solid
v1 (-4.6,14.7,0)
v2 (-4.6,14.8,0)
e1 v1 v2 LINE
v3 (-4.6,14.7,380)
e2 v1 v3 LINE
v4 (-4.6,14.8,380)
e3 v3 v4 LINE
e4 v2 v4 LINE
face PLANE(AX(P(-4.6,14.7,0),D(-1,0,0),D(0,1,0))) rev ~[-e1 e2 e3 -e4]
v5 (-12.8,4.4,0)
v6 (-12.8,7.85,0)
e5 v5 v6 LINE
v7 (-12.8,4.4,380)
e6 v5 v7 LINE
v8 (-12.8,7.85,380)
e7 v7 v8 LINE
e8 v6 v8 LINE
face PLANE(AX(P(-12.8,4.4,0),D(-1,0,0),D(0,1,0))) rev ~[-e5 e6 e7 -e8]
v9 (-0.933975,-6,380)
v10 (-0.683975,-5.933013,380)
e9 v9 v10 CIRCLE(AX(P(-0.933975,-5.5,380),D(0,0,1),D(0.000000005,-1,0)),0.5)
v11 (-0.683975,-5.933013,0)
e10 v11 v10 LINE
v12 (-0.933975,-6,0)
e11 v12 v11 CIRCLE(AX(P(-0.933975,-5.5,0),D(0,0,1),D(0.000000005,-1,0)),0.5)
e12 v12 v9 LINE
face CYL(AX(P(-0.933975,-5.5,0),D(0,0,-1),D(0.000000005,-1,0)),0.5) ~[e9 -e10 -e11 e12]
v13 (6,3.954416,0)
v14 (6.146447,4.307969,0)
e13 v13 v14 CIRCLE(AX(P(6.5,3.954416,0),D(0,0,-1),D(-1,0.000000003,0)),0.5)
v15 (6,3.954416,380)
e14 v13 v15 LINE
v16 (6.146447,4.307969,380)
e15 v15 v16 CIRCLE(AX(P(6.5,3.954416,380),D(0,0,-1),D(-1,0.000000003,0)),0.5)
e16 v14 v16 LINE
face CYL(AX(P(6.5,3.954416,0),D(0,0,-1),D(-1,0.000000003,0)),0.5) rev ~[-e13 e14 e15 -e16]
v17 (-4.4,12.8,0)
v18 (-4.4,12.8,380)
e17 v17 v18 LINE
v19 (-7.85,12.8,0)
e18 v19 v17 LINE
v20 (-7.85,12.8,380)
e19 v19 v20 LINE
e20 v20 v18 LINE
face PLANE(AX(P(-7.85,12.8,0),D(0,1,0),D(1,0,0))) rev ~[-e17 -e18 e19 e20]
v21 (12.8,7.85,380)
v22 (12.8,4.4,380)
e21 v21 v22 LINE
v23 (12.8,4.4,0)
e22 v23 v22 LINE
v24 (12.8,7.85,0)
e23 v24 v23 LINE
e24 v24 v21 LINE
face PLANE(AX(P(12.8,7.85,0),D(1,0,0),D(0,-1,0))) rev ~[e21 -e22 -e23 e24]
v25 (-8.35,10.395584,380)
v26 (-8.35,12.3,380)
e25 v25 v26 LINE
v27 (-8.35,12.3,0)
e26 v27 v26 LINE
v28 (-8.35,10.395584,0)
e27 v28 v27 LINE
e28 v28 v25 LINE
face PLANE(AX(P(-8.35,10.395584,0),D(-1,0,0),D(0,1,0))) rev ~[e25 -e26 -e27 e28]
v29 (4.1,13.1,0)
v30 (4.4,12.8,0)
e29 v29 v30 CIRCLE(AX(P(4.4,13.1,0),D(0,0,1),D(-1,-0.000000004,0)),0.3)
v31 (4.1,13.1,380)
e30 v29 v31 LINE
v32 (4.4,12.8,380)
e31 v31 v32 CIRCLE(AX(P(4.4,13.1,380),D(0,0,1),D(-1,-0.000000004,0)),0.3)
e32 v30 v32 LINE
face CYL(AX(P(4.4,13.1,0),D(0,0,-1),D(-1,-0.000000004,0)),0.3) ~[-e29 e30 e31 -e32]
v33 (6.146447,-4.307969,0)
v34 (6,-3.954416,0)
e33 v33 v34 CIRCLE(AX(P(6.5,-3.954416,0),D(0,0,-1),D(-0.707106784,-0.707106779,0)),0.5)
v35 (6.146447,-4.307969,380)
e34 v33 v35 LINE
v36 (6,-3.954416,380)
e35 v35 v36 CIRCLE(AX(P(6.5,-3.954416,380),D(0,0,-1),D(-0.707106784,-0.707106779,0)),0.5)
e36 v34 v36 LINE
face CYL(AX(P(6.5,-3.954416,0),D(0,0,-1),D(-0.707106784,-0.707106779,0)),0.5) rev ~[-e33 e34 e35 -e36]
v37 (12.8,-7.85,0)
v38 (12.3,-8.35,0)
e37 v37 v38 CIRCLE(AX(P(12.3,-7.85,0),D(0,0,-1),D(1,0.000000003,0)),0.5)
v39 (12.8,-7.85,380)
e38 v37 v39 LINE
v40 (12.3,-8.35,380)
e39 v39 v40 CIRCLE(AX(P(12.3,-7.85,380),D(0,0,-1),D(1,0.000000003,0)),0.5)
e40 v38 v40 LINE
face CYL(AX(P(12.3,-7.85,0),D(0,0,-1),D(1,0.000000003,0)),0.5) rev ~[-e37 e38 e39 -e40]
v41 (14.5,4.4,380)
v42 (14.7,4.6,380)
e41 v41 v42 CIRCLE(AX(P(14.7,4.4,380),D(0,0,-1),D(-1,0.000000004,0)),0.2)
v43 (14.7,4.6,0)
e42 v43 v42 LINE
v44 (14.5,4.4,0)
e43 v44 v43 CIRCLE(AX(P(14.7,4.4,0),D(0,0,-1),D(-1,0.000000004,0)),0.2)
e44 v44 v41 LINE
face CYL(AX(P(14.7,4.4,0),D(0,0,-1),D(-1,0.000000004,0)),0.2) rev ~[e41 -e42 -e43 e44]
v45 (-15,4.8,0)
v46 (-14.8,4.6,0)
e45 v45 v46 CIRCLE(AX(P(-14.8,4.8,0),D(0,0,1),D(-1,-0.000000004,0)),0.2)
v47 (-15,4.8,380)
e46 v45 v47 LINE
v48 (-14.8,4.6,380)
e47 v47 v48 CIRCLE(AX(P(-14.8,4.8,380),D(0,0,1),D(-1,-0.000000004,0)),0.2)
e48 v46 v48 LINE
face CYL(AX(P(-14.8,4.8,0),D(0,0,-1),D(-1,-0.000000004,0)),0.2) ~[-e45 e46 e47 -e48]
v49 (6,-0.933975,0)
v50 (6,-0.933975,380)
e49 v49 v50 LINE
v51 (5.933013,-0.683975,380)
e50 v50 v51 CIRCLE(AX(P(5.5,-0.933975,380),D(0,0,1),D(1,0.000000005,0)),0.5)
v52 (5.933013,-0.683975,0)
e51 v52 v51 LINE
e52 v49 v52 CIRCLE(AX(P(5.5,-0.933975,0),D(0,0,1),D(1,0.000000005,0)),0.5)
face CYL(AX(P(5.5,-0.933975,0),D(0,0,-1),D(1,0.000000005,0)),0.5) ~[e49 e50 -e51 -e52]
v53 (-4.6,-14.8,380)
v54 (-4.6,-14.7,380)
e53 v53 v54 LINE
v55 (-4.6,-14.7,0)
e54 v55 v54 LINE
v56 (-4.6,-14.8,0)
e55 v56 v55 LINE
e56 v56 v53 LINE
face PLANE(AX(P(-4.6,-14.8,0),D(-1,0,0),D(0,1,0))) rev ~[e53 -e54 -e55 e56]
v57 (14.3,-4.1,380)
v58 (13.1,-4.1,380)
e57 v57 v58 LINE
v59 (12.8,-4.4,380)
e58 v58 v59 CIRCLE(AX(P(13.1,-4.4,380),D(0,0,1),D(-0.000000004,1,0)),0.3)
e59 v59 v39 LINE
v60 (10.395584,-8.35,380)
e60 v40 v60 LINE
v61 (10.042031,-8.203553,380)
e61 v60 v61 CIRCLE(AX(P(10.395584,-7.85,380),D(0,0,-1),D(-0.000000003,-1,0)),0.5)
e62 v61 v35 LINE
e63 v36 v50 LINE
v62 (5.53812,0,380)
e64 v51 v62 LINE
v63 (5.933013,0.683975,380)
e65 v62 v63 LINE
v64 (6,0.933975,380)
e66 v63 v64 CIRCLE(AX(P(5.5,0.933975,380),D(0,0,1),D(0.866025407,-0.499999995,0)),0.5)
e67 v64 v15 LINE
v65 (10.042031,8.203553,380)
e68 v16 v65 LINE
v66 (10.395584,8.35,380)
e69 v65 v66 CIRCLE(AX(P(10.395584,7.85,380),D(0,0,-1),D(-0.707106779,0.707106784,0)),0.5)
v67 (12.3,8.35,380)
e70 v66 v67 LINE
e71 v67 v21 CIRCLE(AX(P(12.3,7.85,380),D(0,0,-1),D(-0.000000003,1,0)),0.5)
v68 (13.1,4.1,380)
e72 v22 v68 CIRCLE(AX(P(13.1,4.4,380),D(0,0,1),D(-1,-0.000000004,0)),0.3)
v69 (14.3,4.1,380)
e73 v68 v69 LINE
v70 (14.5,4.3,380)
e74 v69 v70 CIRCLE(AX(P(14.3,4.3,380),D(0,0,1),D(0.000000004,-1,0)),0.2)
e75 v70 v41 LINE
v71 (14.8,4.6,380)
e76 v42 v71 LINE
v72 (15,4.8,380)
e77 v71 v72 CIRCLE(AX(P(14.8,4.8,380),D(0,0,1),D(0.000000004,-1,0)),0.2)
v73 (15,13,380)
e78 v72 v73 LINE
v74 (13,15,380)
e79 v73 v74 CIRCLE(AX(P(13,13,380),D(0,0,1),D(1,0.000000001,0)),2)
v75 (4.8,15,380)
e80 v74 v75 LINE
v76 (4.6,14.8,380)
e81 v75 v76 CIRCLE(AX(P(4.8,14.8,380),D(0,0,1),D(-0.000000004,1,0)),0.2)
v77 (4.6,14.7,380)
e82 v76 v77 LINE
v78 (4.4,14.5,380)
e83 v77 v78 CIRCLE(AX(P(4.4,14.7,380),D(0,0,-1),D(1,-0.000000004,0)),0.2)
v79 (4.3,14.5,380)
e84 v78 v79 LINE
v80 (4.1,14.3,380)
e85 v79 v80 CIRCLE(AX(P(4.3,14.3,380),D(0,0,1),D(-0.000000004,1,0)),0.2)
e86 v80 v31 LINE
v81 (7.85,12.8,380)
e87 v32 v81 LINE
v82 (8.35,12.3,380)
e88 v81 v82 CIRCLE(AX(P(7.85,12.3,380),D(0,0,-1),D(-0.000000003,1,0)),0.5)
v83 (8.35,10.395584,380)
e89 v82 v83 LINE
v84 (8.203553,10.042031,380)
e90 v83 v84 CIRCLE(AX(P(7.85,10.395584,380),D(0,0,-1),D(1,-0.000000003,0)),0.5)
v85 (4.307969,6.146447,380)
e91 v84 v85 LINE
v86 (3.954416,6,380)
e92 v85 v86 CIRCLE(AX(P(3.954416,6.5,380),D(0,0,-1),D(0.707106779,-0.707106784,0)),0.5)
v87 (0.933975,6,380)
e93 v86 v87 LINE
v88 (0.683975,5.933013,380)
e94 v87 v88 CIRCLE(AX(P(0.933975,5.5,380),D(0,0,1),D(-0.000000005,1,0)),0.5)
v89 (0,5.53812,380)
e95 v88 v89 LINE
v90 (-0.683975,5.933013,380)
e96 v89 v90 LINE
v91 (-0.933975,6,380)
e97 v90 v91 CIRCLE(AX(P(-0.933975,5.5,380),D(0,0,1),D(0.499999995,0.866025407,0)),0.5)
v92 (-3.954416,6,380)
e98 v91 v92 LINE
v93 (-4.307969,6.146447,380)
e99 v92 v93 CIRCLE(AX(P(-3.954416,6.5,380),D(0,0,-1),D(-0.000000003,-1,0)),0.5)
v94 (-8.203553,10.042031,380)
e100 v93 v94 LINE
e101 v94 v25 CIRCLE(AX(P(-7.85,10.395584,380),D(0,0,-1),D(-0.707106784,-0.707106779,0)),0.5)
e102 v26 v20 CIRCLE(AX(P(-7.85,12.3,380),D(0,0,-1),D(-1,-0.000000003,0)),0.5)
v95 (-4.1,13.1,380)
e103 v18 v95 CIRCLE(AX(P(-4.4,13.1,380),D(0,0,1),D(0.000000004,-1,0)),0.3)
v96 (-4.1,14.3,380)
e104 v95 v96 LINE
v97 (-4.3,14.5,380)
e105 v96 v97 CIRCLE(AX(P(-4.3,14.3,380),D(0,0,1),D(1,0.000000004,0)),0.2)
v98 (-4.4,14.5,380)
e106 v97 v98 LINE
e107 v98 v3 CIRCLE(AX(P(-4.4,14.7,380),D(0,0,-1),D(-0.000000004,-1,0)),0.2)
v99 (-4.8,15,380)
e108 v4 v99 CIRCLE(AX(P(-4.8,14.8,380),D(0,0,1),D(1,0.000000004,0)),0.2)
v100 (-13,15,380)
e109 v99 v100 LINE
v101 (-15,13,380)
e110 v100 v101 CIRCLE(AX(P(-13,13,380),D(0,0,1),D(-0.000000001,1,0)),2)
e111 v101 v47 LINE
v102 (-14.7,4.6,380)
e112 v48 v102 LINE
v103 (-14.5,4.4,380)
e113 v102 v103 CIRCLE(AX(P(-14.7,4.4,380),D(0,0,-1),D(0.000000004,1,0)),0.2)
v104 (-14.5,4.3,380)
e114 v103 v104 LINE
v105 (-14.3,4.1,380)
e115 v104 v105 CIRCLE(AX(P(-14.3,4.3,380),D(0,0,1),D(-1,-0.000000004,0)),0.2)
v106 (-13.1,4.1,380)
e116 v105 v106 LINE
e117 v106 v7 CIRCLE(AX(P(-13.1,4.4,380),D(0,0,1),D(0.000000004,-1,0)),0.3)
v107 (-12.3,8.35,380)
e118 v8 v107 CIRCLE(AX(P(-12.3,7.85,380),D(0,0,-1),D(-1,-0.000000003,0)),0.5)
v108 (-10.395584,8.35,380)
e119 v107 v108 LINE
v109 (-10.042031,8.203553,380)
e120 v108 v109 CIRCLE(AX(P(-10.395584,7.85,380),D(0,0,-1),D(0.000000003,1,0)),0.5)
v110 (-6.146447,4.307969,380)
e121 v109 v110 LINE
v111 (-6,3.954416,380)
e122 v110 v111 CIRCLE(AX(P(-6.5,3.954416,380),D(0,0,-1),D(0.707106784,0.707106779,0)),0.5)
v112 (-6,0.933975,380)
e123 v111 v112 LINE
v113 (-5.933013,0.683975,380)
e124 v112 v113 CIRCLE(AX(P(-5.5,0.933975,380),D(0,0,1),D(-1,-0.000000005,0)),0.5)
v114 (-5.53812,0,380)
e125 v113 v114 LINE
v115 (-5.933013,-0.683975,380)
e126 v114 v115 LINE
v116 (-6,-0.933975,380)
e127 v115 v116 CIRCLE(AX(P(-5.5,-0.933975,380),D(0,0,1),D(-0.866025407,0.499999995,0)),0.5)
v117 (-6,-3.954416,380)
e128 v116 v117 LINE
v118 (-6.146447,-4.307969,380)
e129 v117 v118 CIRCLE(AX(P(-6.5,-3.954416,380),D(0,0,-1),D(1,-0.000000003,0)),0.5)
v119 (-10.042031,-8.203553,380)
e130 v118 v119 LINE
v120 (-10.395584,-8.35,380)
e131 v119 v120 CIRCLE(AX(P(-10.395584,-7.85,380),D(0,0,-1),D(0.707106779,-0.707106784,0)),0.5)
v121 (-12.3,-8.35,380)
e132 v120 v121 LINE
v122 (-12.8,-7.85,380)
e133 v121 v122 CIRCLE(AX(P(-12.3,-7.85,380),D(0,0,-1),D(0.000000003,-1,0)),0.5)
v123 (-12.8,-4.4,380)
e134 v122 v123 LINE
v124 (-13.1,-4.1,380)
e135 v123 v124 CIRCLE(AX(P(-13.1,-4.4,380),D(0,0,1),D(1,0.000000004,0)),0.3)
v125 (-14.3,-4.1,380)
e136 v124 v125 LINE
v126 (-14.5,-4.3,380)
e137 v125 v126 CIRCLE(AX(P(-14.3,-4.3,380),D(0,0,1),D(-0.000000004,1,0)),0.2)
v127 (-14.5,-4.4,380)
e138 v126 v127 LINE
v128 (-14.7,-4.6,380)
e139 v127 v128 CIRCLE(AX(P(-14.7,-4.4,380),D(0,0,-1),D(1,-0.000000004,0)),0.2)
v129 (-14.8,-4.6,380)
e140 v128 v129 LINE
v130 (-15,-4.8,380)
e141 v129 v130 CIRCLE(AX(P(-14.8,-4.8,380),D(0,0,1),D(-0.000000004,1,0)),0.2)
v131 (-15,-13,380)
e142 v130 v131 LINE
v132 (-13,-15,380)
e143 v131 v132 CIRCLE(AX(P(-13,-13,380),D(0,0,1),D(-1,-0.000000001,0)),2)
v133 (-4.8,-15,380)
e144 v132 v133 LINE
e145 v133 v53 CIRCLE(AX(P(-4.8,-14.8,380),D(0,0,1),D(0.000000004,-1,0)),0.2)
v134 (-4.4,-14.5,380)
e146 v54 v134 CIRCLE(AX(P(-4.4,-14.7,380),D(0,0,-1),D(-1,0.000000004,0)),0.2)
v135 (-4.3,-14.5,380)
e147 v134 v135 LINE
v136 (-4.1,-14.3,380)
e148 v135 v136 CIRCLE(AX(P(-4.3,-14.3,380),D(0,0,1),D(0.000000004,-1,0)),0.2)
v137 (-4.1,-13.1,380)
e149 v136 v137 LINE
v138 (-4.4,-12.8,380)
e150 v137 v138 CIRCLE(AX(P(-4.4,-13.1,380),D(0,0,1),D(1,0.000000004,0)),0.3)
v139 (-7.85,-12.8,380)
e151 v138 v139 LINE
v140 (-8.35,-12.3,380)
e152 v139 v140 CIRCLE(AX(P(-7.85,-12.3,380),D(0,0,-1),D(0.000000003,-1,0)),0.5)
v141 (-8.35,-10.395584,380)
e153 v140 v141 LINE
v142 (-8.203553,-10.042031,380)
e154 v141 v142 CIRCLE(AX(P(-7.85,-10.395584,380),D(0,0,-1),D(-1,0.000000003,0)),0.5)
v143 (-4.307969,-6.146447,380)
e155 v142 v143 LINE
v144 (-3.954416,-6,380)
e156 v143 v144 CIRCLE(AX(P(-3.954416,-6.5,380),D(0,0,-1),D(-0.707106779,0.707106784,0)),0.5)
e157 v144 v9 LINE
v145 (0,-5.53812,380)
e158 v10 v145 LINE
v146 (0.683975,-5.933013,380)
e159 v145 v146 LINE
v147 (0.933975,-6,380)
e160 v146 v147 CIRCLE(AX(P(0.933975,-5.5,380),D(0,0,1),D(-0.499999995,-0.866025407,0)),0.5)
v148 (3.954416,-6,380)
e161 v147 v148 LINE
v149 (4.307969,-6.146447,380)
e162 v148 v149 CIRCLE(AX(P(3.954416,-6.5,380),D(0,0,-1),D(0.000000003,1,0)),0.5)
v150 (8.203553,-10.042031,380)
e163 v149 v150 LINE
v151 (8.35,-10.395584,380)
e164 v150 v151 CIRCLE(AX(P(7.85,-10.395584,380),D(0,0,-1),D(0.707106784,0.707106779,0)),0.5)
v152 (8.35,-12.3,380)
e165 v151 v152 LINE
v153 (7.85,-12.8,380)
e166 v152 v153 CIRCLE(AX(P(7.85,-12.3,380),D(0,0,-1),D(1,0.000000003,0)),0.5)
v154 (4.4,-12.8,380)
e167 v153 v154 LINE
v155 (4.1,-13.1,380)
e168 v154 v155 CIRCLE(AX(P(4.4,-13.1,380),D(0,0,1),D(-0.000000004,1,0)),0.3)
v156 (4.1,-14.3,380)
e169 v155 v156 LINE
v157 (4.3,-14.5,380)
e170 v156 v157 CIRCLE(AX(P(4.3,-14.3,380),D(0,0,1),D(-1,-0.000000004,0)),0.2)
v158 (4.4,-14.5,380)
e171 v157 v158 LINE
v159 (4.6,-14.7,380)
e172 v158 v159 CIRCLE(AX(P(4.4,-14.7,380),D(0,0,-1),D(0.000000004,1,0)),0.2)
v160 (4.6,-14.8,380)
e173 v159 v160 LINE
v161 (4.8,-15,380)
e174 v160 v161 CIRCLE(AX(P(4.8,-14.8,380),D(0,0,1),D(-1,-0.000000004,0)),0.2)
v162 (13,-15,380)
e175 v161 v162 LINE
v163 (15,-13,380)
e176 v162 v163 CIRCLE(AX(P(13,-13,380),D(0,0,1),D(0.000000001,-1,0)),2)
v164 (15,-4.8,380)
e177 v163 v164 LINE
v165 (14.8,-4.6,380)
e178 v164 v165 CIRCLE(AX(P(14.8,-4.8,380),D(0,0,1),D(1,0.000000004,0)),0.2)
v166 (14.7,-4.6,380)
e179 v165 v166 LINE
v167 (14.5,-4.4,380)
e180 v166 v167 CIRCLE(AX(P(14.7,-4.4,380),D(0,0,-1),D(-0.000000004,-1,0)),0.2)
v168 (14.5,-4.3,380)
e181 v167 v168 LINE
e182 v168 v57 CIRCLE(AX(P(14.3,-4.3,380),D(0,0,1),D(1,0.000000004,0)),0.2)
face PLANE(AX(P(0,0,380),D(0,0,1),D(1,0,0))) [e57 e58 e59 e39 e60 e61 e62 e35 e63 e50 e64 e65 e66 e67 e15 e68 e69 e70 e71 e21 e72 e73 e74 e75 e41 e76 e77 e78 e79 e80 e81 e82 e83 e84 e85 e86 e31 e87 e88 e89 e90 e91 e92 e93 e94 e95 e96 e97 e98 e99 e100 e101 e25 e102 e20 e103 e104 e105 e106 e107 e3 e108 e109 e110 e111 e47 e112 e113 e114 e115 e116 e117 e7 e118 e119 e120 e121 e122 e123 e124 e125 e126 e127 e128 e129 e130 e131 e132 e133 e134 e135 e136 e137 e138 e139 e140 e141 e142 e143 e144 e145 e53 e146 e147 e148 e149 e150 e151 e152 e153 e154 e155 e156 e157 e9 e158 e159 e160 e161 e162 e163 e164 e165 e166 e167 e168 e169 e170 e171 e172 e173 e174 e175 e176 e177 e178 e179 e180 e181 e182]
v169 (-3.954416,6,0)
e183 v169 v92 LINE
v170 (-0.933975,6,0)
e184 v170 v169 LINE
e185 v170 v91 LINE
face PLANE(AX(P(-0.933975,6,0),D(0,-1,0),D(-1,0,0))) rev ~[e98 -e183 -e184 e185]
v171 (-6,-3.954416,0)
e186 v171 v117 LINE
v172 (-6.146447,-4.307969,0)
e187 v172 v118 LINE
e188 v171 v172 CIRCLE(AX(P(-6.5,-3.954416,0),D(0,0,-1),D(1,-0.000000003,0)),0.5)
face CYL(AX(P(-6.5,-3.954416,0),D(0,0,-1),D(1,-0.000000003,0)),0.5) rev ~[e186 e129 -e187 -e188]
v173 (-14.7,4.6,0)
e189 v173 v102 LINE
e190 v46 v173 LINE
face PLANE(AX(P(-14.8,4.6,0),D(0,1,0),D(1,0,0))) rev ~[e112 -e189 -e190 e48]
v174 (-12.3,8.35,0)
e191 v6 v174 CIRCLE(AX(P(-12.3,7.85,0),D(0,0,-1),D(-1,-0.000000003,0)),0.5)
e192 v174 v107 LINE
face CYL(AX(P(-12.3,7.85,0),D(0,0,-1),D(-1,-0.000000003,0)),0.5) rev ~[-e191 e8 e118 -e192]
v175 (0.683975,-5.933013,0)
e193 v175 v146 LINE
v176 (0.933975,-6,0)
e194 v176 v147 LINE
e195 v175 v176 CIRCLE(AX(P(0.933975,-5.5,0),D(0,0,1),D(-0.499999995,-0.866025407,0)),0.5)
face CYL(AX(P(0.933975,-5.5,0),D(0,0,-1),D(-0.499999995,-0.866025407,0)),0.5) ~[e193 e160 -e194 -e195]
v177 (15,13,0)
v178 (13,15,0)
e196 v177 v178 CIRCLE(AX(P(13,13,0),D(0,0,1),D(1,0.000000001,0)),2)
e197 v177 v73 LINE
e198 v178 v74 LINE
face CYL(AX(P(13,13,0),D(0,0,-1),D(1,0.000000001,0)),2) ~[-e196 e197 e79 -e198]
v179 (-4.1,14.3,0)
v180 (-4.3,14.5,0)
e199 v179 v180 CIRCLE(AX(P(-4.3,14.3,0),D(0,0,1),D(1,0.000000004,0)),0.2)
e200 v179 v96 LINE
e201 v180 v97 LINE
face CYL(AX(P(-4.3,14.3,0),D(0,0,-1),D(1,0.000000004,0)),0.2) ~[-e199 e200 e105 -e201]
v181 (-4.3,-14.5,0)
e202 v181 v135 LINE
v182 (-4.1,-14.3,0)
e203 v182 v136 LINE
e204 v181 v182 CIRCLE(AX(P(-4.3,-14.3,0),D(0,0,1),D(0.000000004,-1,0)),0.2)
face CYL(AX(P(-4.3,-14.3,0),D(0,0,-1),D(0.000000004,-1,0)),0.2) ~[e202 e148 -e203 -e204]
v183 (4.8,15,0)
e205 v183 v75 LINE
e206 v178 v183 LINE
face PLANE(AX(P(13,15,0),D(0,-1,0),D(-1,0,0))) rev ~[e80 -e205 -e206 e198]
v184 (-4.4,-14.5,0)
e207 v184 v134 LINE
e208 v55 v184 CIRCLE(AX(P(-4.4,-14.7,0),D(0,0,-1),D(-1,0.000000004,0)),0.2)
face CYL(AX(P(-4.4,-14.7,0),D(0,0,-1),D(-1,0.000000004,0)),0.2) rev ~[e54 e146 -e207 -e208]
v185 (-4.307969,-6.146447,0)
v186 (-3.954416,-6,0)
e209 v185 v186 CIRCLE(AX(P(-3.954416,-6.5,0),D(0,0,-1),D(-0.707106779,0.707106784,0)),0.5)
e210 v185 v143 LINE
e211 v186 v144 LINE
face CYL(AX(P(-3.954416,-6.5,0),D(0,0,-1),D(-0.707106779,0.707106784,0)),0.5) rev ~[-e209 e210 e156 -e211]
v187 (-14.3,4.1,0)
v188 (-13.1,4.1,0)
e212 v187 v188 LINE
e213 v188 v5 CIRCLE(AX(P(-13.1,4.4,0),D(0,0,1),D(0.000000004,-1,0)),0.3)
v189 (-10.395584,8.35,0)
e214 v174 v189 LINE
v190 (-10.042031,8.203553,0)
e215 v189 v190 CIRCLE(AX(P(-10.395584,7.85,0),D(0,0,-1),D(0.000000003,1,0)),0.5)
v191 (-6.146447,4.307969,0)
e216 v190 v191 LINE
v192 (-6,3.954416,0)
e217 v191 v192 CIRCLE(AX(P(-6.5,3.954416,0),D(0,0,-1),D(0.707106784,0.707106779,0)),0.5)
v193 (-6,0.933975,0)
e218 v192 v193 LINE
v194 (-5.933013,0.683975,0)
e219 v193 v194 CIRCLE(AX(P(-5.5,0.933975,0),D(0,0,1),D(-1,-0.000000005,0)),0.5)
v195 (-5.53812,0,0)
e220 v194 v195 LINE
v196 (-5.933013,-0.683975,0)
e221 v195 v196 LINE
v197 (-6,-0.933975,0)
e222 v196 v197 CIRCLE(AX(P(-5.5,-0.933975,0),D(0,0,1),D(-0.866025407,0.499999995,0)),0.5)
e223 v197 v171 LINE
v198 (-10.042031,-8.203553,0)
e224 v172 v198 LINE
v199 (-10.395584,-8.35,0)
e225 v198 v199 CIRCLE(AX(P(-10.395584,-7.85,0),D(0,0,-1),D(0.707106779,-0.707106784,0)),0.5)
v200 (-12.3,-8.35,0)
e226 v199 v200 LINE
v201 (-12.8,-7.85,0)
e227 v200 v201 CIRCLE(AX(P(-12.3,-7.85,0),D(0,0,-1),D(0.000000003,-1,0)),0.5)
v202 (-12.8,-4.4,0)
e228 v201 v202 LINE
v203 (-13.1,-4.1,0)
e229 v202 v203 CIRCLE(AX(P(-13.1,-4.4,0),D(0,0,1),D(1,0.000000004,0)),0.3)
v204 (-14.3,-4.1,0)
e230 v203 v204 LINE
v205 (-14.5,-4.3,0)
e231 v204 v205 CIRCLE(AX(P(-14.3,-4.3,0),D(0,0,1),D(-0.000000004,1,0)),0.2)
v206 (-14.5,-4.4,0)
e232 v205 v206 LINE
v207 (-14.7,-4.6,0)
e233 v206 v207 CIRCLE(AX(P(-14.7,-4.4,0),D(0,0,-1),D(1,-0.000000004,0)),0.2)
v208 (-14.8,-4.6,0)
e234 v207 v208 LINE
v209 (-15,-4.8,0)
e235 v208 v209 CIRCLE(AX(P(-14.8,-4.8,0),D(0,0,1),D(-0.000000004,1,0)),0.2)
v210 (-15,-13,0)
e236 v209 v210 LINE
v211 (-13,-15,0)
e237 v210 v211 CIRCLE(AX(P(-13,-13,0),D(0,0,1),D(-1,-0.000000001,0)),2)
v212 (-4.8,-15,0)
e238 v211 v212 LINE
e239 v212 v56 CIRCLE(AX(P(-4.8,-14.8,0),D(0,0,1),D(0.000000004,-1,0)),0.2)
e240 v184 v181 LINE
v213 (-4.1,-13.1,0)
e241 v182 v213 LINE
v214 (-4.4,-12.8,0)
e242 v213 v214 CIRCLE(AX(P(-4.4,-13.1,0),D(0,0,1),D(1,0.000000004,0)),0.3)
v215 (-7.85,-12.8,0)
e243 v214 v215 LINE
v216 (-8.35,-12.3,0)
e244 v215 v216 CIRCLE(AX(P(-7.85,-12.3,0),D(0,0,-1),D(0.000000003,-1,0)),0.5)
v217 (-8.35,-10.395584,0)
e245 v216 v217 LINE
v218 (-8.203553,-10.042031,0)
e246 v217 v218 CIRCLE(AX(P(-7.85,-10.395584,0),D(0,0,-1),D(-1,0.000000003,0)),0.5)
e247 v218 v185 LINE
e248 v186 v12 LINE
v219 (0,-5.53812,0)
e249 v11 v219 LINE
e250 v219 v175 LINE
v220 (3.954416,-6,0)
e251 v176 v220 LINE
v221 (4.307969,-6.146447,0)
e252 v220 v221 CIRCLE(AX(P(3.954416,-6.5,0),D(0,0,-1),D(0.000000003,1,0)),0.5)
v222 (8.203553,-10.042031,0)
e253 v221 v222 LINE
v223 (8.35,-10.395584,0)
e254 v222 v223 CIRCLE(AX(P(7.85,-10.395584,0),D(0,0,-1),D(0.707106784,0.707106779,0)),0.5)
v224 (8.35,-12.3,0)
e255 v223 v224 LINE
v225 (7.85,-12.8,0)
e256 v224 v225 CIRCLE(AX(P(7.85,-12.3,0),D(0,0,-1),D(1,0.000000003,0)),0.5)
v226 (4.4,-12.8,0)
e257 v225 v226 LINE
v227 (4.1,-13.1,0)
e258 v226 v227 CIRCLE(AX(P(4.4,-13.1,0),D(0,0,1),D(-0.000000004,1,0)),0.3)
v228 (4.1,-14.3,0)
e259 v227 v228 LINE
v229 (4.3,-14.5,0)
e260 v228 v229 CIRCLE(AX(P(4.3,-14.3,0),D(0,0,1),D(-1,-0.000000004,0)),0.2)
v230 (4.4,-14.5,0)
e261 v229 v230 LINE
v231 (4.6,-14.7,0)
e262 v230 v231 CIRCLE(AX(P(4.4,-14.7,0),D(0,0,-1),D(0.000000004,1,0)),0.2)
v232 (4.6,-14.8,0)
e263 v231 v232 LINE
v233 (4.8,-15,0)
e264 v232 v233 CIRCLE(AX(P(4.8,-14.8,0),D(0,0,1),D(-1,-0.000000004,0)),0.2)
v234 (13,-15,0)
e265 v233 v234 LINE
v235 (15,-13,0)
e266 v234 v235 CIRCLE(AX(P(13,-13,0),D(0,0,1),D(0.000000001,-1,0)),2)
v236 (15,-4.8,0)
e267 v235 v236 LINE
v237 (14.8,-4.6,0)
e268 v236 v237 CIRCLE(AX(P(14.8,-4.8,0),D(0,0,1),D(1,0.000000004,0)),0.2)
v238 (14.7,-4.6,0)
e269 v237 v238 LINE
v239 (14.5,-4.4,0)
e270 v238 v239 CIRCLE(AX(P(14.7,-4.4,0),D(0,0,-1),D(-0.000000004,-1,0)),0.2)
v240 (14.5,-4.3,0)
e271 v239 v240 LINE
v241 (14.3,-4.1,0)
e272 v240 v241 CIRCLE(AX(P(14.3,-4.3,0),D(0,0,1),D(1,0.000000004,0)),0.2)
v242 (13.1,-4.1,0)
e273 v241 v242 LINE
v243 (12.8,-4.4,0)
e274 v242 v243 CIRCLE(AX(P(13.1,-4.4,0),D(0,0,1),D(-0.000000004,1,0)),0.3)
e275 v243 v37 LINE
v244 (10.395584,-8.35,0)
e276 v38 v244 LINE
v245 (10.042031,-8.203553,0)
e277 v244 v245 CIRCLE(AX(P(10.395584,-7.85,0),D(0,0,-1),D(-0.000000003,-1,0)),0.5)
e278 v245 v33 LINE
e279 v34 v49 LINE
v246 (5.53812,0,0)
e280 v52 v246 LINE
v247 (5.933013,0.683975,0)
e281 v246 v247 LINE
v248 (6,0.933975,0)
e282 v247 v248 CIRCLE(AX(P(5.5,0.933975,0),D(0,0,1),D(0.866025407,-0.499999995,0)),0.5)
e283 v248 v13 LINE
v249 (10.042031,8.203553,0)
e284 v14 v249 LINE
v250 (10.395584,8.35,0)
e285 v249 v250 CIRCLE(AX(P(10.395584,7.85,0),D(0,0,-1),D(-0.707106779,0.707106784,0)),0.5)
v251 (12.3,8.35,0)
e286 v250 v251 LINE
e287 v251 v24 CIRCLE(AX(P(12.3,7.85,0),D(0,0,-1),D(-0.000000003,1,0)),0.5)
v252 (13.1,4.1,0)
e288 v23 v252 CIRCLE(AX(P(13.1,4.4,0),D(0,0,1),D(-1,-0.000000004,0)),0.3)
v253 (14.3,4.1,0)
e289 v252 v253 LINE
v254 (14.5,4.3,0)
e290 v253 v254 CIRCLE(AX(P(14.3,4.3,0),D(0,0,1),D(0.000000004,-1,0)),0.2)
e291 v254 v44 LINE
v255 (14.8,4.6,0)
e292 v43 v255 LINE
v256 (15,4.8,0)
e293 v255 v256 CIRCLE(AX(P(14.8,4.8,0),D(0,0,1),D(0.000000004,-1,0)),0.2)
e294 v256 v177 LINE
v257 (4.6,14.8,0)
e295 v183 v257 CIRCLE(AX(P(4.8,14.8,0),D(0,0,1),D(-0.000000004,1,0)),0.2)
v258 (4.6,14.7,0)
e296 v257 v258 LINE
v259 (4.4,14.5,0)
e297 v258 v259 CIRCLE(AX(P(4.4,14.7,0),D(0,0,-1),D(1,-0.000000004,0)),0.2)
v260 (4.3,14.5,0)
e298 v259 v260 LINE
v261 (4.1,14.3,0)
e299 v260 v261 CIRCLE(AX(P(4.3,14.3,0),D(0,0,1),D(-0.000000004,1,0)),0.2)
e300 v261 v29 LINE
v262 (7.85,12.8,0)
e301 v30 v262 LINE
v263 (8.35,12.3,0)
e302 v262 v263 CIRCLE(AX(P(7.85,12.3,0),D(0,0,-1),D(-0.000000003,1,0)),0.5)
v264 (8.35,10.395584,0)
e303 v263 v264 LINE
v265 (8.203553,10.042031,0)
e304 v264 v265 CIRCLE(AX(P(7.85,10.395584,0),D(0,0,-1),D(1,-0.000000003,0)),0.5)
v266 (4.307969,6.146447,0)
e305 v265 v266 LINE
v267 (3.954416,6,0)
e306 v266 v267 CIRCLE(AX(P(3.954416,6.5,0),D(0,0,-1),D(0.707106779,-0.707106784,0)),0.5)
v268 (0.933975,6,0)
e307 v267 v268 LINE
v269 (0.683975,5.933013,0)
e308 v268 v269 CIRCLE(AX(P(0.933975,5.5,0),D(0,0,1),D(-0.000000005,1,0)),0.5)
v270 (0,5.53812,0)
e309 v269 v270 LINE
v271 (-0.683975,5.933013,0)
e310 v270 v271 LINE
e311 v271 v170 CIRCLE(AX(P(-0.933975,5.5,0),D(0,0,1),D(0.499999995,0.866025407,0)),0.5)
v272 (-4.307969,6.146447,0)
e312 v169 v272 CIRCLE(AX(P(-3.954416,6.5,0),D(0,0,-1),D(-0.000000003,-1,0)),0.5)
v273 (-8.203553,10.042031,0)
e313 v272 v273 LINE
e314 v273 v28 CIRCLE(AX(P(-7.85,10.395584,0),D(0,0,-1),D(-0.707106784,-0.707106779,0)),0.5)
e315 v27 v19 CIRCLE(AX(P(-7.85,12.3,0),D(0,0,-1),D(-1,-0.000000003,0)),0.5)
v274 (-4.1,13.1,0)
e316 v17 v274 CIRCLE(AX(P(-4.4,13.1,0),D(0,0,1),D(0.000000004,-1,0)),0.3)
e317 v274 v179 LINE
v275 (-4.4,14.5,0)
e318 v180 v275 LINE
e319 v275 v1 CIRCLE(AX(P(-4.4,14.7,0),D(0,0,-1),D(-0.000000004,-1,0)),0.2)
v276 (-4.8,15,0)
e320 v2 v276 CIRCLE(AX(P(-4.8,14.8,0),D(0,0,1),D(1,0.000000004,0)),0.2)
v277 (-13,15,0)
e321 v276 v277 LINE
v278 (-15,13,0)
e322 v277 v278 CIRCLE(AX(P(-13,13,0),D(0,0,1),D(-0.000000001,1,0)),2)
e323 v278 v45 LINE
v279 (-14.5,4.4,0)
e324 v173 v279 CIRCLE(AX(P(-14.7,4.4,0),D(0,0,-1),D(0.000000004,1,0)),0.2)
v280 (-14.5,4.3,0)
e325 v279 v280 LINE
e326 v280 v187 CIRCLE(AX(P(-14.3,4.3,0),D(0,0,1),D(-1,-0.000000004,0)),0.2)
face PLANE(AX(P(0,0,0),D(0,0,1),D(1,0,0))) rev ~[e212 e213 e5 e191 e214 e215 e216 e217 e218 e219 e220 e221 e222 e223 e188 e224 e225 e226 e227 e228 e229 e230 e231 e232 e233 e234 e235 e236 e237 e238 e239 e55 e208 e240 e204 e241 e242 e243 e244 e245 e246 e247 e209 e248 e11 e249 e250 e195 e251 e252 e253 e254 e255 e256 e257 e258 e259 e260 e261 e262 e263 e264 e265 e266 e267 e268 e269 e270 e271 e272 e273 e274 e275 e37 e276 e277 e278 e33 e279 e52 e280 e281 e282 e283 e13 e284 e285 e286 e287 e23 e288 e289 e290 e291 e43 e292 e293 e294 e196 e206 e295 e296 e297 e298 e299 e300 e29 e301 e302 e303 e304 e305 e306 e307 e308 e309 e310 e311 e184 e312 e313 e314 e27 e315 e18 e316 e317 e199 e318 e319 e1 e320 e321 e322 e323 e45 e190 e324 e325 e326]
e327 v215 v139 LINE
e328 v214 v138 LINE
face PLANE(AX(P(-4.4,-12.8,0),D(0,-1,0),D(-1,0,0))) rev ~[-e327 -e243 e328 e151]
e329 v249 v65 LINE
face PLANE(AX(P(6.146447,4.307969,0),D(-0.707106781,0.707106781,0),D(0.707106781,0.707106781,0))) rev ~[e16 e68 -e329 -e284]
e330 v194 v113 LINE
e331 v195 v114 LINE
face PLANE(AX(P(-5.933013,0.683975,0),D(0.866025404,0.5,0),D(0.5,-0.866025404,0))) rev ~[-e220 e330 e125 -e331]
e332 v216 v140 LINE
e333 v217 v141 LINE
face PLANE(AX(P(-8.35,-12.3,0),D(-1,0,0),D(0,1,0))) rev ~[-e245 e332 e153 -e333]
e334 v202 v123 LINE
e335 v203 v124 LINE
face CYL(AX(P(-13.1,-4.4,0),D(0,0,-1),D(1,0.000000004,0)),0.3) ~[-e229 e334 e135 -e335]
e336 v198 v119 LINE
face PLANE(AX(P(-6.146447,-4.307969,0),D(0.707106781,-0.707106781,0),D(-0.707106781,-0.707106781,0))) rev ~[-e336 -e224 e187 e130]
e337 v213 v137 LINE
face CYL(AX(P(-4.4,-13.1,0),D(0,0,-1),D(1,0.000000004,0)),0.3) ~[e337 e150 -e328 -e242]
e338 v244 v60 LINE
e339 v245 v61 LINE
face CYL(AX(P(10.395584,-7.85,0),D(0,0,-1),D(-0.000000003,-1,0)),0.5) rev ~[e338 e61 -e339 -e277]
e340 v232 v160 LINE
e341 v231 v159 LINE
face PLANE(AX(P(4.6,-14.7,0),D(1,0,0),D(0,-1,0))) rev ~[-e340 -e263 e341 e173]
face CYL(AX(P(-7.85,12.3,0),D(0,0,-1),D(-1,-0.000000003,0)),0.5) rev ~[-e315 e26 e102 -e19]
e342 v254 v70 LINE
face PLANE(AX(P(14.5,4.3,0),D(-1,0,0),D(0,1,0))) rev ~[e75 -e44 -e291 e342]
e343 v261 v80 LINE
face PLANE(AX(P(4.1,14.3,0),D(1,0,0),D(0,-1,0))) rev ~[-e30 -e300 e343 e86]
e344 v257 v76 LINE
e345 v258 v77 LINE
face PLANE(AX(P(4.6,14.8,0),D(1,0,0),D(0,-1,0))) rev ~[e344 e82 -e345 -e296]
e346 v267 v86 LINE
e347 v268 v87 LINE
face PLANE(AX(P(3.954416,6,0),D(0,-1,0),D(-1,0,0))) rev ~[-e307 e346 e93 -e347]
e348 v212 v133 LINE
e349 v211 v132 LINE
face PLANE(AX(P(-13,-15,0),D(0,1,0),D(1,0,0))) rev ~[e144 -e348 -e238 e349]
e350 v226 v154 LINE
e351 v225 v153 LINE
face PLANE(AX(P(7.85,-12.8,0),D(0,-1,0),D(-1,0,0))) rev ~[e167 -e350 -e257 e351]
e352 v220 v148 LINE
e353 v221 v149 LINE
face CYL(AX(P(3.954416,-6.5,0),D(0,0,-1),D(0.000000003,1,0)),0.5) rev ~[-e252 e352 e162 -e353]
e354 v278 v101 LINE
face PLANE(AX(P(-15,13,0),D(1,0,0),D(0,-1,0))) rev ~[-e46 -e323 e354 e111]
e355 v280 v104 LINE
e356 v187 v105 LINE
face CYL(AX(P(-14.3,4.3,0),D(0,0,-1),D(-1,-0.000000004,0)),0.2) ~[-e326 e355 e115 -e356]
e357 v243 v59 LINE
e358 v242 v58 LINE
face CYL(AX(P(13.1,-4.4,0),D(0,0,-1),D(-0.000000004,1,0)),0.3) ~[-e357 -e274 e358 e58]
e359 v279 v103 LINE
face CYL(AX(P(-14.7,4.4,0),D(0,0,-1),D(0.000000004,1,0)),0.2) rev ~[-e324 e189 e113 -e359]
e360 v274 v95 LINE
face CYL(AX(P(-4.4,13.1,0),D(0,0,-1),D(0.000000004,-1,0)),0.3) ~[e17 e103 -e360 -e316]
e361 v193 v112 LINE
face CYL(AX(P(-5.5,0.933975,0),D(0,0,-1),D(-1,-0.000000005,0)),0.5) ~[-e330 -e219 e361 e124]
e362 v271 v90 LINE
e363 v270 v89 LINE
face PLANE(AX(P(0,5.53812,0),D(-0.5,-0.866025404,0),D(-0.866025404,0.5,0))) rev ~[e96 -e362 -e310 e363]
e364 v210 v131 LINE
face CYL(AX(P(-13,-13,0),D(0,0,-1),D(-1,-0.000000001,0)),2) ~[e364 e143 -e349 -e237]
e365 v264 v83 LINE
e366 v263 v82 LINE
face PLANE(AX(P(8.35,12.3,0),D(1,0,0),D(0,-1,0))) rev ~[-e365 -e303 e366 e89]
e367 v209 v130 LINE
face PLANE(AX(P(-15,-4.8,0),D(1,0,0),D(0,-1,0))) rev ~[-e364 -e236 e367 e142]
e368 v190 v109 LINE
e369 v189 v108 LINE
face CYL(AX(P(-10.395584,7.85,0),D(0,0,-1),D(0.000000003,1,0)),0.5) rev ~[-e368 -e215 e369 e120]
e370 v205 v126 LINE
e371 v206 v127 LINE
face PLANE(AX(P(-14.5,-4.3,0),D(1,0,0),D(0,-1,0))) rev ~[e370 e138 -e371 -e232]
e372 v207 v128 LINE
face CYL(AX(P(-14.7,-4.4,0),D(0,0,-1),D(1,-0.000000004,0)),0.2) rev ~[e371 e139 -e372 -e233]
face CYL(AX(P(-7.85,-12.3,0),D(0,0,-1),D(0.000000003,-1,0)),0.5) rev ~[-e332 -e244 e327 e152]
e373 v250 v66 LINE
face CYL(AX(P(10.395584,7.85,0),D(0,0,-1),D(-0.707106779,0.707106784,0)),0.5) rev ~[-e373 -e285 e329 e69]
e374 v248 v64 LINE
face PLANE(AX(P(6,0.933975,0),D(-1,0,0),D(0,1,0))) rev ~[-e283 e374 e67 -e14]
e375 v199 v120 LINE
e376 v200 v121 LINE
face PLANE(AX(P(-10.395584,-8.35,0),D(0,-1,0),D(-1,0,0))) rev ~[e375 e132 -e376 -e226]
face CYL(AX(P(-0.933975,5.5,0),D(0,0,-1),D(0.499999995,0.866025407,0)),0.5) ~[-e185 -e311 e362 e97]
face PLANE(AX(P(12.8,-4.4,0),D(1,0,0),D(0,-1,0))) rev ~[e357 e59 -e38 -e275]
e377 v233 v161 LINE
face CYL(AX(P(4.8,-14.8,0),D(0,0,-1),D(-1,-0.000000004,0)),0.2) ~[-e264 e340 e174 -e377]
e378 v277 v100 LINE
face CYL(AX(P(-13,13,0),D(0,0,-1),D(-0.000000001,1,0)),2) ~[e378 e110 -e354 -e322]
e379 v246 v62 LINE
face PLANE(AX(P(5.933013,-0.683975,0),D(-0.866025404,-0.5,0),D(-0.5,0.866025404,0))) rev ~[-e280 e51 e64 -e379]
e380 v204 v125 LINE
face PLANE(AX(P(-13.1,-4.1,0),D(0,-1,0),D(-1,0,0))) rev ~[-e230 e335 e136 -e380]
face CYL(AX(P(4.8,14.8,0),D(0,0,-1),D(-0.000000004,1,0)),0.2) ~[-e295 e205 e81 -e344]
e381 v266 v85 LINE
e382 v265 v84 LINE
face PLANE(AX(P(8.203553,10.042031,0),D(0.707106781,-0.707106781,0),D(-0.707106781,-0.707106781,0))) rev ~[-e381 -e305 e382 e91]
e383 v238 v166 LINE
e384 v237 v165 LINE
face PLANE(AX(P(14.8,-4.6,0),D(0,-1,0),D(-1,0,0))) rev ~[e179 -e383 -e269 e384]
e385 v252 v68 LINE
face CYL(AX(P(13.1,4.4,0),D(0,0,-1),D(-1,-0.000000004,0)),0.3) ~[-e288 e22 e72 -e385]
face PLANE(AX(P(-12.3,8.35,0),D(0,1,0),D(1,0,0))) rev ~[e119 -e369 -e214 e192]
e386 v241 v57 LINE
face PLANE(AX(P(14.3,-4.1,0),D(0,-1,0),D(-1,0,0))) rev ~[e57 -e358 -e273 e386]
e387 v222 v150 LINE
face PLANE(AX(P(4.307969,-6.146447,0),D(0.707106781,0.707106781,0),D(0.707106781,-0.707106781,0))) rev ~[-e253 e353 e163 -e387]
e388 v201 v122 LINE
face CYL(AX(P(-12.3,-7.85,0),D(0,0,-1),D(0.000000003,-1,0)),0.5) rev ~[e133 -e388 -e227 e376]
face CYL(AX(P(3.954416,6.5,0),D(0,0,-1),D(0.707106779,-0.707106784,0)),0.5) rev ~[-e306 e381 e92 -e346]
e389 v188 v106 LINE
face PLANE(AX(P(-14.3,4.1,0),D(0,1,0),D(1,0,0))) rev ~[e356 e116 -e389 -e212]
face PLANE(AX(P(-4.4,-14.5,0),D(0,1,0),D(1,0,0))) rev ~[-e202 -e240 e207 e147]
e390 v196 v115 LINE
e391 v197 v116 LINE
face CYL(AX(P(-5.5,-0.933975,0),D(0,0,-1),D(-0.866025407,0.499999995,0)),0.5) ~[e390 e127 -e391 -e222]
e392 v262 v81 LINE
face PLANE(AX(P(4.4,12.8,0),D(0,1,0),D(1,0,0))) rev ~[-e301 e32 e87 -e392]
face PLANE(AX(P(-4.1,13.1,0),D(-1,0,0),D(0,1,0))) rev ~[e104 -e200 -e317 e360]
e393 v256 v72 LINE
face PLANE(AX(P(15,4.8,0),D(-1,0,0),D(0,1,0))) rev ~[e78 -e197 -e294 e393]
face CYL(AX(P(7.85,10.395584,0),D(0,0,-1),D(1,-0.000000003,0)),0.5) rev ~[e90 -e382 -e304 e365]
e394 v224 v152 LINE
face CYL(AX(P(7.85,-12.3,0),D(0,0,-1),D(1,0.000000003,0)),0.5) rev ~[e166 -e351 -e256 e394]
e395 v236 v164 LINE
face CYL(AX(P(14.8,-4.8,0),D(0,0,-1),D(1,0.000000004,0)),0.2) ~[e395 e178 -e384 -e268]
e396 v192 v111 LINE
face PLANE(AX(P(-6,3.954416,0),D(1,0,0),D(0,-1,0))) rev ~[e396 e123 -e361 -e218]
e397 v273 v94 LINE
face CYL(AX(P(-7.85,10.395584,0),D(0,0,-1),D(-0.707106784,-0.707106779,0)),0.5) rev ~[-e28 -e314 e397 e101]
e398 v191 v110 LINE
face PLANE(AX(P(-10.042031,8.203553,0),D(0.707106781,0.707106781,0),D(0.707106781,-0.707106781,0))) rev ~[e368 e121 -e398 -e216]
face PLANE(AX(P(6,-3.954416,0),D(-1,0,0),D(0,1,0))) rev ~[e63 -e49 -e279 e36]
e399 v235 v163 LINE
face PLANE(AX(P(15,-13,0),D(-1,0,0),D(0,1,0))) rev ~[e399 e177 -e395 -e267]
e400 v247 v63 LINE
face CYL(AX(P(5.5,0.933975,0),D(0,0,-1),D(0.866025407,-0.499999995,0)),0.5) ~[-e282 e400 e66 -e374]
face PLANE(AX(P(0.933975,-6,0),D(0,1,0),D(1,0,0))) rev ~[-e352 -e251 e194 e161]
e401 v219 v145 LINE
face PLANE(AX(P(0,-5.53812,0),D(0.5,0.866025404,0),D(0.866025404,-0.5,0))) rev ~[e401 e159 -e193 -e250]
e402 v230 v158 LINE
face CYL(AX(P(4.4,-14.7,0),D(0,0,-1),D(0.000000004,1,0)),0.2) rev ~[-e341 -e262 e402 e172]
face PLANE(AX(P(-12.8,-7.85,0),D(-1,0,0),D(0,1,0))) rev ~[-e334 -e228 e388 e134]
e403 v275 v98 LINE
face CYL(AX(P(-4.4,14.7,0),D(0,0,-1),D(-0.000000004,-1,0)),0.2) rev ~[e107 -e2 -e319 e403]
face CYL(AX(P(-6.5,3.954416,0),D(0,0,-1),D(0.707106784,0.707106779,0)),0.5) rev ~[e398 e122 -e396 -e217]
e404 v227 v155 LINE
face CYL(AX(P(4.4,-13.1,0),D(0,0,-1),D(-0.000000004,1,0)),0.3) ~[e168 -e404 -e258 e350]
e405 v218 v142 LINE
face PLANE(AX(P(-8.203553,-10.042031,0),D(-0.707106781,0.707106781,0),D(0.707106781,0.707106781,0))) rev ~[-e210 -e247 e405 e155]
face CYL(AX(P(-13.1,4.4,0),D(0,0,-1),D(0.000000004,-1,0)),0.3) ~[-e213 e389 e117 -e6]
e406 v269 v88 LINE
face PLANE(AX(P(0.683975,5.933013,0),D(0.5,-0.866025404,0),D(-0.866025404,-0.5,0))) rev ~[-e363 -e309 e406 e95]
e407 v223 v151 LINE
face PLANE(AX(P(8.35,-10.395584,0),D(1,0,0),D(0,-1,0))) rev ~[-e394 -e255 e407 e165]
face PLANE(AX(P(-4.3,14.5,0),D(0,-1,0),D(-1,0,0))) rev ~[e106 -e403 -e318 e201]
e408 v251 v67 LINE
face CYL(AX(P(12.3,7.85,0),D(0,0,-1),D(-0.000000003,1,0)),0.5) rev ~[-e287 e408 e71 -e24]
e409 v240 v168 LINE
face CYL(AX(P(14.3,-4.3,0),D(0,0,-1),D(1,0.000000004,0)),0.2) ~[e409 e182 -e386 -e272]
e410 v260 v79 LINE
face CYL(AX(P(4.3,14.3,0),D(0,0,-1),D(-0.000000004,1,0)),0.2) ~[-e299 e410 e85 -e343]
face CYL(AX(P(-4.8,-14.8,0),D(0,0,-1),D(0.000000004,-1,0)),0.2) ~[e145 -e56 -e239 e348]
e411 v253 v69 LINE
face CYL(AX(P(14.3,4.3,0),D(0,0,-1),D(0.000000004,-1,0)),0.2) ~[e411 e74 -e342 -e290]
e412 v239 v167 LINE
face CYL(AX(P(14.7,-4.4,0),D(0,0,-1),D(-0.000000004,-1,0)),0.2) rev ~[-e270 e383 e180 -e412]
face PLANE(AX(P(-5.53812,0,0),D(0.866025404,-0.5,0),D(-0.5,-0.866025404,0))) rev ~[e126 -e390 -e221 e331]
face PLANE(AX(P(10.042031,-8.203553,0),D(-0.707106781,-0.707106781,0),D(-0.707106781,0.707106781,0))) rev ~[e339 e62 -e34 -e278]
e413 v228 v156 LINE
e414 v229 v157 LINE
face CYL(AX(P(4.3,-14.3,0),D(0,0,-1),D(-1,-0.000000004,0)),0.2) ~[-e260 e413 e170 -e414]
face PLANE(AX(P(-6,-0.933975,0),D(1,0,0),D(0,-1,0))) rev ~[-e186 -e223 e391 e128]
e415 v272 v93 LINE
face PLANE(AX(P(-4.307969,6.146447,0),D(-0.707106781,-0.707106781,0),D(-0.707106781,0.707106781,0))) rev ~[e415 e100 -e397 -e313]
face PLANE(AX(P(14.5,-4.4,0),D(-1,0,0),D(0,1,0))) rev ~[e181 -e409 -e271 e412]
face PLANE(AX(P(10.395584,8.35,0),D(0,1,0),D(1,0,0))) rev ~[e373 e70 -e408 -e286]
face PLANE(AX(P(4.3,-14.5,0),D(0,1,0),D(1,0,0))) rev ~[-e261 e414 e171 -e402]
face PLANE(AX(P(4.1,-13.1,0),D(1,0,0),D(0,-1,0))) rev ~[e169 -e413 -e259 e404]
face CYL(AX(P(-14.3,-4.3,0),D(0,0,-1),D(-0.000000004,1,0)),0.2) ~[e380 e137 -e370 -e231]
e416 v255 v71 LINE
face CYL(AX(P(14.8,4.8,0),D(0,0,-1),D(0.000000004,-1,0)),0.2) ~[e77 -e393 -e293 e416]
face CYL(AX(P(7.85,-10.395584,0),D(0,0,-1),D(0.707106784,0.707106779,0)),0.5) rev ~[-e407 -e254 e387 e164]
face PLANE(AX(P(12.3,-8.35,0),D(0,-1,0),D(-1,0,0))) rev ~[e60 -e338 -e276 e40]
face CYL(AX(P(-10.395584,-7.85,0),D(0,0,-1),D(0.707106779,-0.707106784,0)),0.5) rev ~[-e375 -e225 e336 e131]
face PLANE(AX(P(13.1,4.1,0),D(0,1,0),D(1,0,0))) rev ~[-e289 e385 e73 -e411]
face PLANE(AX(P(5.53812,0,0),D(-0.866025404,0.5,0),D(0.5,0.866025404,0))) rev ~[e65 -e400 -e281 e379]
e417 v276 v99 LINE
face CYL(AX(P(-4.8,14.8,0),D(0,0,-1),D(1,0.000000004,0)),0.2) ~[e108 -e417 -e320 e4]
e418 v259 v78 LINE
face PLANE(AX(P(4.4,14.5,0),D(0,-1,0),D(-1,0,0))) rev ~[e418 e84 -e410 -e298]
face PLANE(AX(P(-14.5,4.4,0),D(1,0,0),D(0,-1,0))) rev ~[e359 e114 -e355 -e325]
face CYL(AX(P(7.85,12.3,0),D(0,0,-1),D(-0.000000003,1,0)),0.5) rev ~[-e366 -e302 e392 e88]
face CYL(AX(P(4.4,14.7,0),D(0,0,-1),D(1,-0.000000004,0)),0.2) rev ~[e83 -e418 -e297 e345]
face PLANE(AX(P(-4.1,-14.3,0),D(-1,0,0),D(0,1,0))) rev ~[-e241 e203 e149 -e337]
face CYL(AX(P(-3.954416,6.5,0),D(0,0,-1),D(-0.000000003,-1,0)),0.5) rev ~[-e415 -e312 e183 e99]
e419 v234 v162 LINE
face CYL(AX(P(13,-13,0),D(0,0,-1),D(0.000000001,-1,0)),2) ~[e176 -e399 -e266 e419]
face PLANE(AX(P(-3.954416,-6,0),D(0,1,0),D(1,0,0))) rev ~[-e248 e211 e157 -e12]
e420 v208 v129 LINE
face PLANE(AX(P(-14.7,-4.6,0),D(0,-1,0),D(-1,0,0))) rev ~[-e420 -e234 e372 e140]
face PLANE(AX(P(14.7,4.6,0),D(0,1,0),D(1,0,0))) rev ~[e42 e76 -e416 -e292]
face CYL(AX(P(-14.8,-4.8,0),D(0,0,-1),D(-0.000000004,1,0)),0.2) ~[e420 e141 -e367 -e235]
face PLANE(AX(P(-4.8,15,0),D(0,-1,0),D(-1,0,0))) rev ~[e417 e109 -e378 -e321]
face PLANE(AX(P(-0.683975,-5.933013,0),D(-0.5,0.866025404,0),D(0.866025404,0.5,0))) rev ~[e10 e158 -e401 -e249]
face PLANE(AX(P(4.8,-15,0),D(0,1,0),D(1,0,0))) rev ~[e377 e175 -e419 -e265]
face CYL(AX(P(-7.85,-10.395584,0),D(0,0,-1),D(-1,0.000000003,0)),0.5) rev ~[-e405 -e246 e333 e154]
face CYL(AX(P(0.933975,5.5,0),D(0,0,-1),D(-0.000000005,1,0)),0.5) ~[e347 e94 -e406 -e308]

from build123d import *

# Parameters (mm, degrees)
BOSS_EXTRUDE1_DEPTH = 380


with BuildPart() as part:
    # Sketch1 → Boss-Extrude1 (new body)
    with BuildSketch(Plane.XY):
        with BuildLine():
            Line((-12.8, 4.4), (-12.8, 7.85))
            ThreePointArc((-12.8, 7.85), (-12.653553391, 8.203553391), (-12.3, 8.35))
            Line((-12.3, 8.35), (-10.395584412, 8.35))
            ThreePointArc((-10.395584412, 8.35), (-10.204242696, 8.311939766), (-10.042031022, 8.203553391))
            Line((-10.042031022, 8.203553391), (-6.146446609, 4.307968978))
            ThreePointArc((-6.146446609, 4.307968978), (-6.038060234, 4.145757304), (-6, 3.954415588))
            Line((-6, 3.954415588), (-6, 0.933974596))
            ThreePointArc((-6, 0.933974596), (-5.982962913, 0.804565074), (-5.933012702, 0.683974596))
            Line((-5.933012702, 0.683974596), (-5.538119785, 0))
            Line((-5.538119785, 0), (-5.933012702, -0.683974596))
            ThreePointArc((-5.933012702, -0.683974596), (-5.982962913, -0.804565074), (-6, -0.933974596))
            Line((-6, -0.933974596), (-6, -3.954415588))
            ThreePointArc((-6, -3.954415588), (-6.038060234, -4.145757304), (-6.146446609, -4.307968978))
            Line((-6.146446609, -4.307968978), (-10.042031022, -8.203553391))
            ThreePointArc((-10.042031022, -8.203553391), (-10.204242696, -8.311939766), (-10.395584412, -8.35))
            Line((-10.395584412, -8.35), (-12.3, -8.35))
            ThreePointArc((-12.3, -8.35), (-12.653553391, -8.203553391), (-12.8, -7.85))
            Line((-12.8, -7.85), (-12.8, -4.4))
            ThreePointArc((-12.8, -4.4), (-12.887867966, -4.187867966), (-13.1, -4.1))
            Line((-13.1, -4.1), (-14.3, -4.1))
            ThreePointArc((-14.3, -4.1), (-14.441421356, -4.158578644), (-14.5, -4.3))
            Line((-14.5, -4.3), (-14.5, -4.4))
            ThreePointArc((-14.5, -4.4), (-14.558578644, -4.541421356), (-14.7, -4.6))
            Line((-14.7, -4.6), (-14.8, -4.6))
            ThreePointArc((-14.8, -4.6), (-14.941421356, -4.658578644), (-15, -4.8))
            Line((-15, -4.8), (-15, -13))
            ThreePointArc((-15, -13), (-14.414213562, -14.414213562), (-13, -15))
            Line((-13, -15), (-4.8, -15))
            ThreePointArc((-4.8, -15), (-4.658578644, -14.941421356), (-4.6, -14.8))
            Line((-4.6, -14.8), (-4.6, -14.7))
            ThreePointArc((-4.6, -14.7), (-4.541421356, -14.558578644), (-4.4, -14.5))
            Line((-4.4, -14.5), (-4.3, -14.5))
            ThreePointArc((-4.3, -14.5), (-4.158578644, -14.441421356), (-4.1, -14.3))
            Line((-4.1, -14.3), (-4.1, -13.1))
            ThreePointArc((-4.1, -13.1), (-4.187867966, -12.887867966), (-4.4, -12.8))
            Line((-4.4, -12.8), (-7.85, -12.8))
            ThreePointArc((-7.85, -12.8), (-8.203553391, -12.653553391), (-8.35, -12.3))
            Line((-8.35, -12.3), (-8.35, -10.395584412))
            ThreePointArc((-8.35, -10.395584412), (-8.311939766, -10.204242696), (-8.203553391, -10.042031022))
            Line((-8.203553391, -10.042031022), (-4.307968978, -6.146446609))
            ThreePointArc((-4.307968978, -6.146446609), (-4.145757304, -6.038060234), (-3.954415588, -6))
            Line((-3.954415588, -6), (-0.933974596, -6))
            ThreePointArc((-0.933974596, -6), (-0.804565074, -5.982962913), (-0.683974596, -5.933012702))
            Line((-0.683974596, -5.933012702), (0, -5.538119785))
            Line((0, -5.538119785), (0.683974596, -5.933012702))
            ThreePointArc((0.683974596, -5.933012702), (0.804565074, -5.982962913), (0.933974596, -6))
            Line((0.933974596, -6), (3.954415588, -6))
            ThreePointArc((3.954415588, -6), (4.145757304, -6.038060234), (4.307968978, -6.146446609))
            Line((4.307968978, -6.146446609), (8.203553391, -10.042031022))
            ThreePointArc((8.203553391, -10.042031022), (8.311939766, -10.204242696), (8.35, -10.395584412))
            Line((8.35, -10.395584412), (8.35, -12.3))
            ThreePointArc((8.35, -12.3), (8.203553391, -12.653553391), (7.85, -12.8))
            Line((7.85, -12.8), (4.4, -12.8))
            ThreePointArc((4.4, -12.8), (4.187867966, -12.887867966), (4.1, -13.1))
            Line((4.1, -13.1), (4.1, -14.3))
            ThreePointArc((4.1, -14.3), (4.158578644, -14.441421356), (4.3, -14.5))
            Line((4.3, -14.5), (4.4, -14.5))
            ThreePointArc((4.4, -14.5), (4.541421356, -14.558578644), (4.6, -14.7))
            Line((4.6, -14.7), (4.6, -14.8))
            ThreePointArc((4.6, -14.8), (4.658578644, -14.941421356), (4.8, -15))
            Line((4.8, -15), (13, -15))
            ThreePointArc((13, -15), (14.414213562, -14.414213562), (15, -13))
            Line((15, -13), (15, -4.8))
            ThreePointArc((15, -4.8), (14.941421356, -4.658578644), (14.8, -4.6))
            Line((14.8, -4.6), (14.7, -4.6))
            ThreePointArc((14.7, -4.6), (14.558578644, -4.541421356), (14.5, -4.4))
            Line((14.5, -4.4), (14.5, -4.3))
            ThreePointArc((14.5, -4.3), (14.441421356, -4.158578644), (14.3, -4.1))
            Line((14.3, -4.1), (13.1, -4.1))
            ThreePointArc((13.1, -4.1), (12.887867966, -4.187867966), (12.8, -4.4))
            Line((12.8, -4.4), (12.8, -7.85))
            ThreePointArc((12.8, -7.85), (12.653553391, -8.203553391), (12.3, -8.35))
            Line((12.3, -8.35), (10.395584412, -8.35))
            ThreePointArc((10.395584412, -8.35), (10.204242696, -8.311939766), (10.042031022, -8.203553391))
            Line((10.042031022, -8.203553391), (6.146446609, -4.307968978))
            ThreePointArc((6.146446609, -4.307968978), (6.038060234, -4.145757304), (6, -3.954415588))
            Line((6, -3.954415588), (6, -0.933974596))
            ThreePointArc((6, -0.933974596), (5.982962913, -0.804565074), (5.933012702, -0.683974596))
            Line((5.933012702, -0.683974596), (5.538119785, 0))
            Line((5.538119785, 0), (5.933012702, 0.683974596))
            ThreePointArc((5.933012702, 0.683974596), (5.982962913, 0.804565074), (6, 0.933974596))
            Line((6, 0.933974596), (6, 3.954415588))
            ThreePointArc((6, 3.954415588), (6.038060234, 4.145757304), (6.146446609, 4.307968978))
            Line((6.146446609, 4.307968978), (10.042031022, 8.203553391))
            ThreePointArc((10.042031022, 8.203553391), (10.204242696, 8.311939766), (10.395584412, 8.35))
            Line((10.395584412, 8.35), (12.3, 8.35))
            ThreePointArc((12.3, 8.35), (12.653553391, 8.203553391), (12.8, 7.85))
            Line((12.8, 7.85), (12.8, 4.4))
            ThreePointArc((12.8, 4.4), (12.887867966, 4.187867966), (13.1, 4.1))
            Line((13.1, 4.1), (14.3, 4.1))
            ThreePointArc((14.3, 4.1), (14.441421356, 4.158578644), (14.5, 4.3))
            Line((14.5, 4.3), (14.5, 4.4))
            ThreePointArc((14.5, 4.4), (14.558578644, 4.541421356), (14.7, 4.6))
            Line((14.7, 4.6), (14.8, 4.6))
            ThreePointArc((14.8, 4.6), (14.941421356, 4.658578644), (15, 4.8))
            Line((15, 4.8), (15, 13))
            ThreePointArc((15, 13), (14.414213562, 14.414213562), (13, 15))
            Line((13, 15), (4.8, 15))
            ThreePointArc((4.8, 15), (4.658578644, 14.941421356), (4.6, 14.8))
            Line((4.6, 14.8), (4.6, 14.7))
            ThreePointArc((4.6, 14.7), (4.541421356, 14.558578644), (4.4, 14.5))
            Line((4.4, 14.5), (4.3, 14.5))
            ThreePointArc((4.3, 14.5), (4.158578644, 14.441421356), (4.1, 14.3))
            Line((4.1, 14.3), (4.1, 13.1))
            ThreePointArc((4.1, 13.1), (4.187867966, 12.887867966), (4.4, 12.8))
            Line((4.4, 12.8), (7.85, 12.8))
            ThreePointArc((7.85, 12.8), (8.203553391, 12.653553391), (8.35, 12.3))
            Line((8.35, 12.3), (8.35, 10.395584412))
            ThreePointArc((8.35, 10.395584412), (8.311939766, 10.204242696), (8.203553391, 10.042031022))
            Line((8.203553391, 10.042031022), (4.307968978, 6.146446609))
            ThreePointArc((4.307968978, 6.146446609), (4.145757304, 6.038060234), (3.954415588, 6))
            Line((3.954415588, 6), (0.933974596, 6))
            ThreePointArc((0.933974596, 6), (0.804565074, 5.982962913), (0.683974596, 5.933012702))
            Line((0.683974596, 5.933012702), (0, 5.538119785))
            Line((0, 5.538119785), (-0.683974596, 5.933012702))
            ThreePointArc((-0.683974596, 5.933012702), (-0.804565074, 5.982962913), (-0.933974596, 6))
            Line((-0.933974596, 6), (-3.954415588, 6))
            ThreePointArc((-3.954415588, 6), (-4.145757304, 6.038060234), (-4.307968978, 6.146446609))
            Line((-4.307968978, 6.146446609), (-8.203553391, 10.042031022))
            ThreePointArc((-8.203553391, 10.042031022), (-8.311939766, 10.204242696), (-8.35, 10.395584412))
            Line((-8.35, 10.395584412), (-8.35, 12.3))
            ThreePointArc((-8.35, 12.3), (-8.203553391, 12.653553391), (-7.85, 12.8))
            Line((-7.85, 12.8), (-4.4, 12.8))
            ThreePointArc((-4.4, 12.8), (-4.187867966, 12.887867966), (-4.1, 13.1))
            Line((-4.1, 13.1), (-4.1, 14.3))
            ThreePointArc((-4.1, 14.3), (-4.158578644, 14.441421356), (-4.3, 14.5))
            Line((-4.3, 14.5), (-4.4, 14.5))
            ThreePointArc((-4.4, 14.5), (-4.541421356, 14.558578644), (-4.6, 14.7))
            Line((-4.6, 14.7), (-4.6, 14.8))
            ThreePointArc((-4.6, 14.8), (-4.658578644, 14.941421356), (-4.8, 15))
            Line((-4.8, 15), (-13, 15))
            ThreePointArc((-13, 15), (-14.414213562, 14.414213562), (-15, 13))
            Line((-15, 13), (-15, 4.8))
            ThreePointArc((-15, 4.8), (-14.941421356, 4.658578644), (-14.8, 4.6))
            Line((-14.8, 4.6), (-14.7, 4.6))
            ThreePointArc((-14.7, 4.6), (-14.558578644, 4.541421356), (-14.5, 4.4))
            Line((-14.5, 4.4), (-14.5, 4.3))
            ThreePointArc((-14.5, 4.3), (-14.441421356, 4.158578644), (-14.3, 4.1))
            Line((-14.3, 4.1), (-13.1, 4.1))
            ThreePointArc((-13.1, 4.1), (-12.887867966, 4.187867966), (-12.8, 4.4))
        make_face()
    extrude(amount=BOSS_EXTRUDE1_DEPTH)


solid = part.part
